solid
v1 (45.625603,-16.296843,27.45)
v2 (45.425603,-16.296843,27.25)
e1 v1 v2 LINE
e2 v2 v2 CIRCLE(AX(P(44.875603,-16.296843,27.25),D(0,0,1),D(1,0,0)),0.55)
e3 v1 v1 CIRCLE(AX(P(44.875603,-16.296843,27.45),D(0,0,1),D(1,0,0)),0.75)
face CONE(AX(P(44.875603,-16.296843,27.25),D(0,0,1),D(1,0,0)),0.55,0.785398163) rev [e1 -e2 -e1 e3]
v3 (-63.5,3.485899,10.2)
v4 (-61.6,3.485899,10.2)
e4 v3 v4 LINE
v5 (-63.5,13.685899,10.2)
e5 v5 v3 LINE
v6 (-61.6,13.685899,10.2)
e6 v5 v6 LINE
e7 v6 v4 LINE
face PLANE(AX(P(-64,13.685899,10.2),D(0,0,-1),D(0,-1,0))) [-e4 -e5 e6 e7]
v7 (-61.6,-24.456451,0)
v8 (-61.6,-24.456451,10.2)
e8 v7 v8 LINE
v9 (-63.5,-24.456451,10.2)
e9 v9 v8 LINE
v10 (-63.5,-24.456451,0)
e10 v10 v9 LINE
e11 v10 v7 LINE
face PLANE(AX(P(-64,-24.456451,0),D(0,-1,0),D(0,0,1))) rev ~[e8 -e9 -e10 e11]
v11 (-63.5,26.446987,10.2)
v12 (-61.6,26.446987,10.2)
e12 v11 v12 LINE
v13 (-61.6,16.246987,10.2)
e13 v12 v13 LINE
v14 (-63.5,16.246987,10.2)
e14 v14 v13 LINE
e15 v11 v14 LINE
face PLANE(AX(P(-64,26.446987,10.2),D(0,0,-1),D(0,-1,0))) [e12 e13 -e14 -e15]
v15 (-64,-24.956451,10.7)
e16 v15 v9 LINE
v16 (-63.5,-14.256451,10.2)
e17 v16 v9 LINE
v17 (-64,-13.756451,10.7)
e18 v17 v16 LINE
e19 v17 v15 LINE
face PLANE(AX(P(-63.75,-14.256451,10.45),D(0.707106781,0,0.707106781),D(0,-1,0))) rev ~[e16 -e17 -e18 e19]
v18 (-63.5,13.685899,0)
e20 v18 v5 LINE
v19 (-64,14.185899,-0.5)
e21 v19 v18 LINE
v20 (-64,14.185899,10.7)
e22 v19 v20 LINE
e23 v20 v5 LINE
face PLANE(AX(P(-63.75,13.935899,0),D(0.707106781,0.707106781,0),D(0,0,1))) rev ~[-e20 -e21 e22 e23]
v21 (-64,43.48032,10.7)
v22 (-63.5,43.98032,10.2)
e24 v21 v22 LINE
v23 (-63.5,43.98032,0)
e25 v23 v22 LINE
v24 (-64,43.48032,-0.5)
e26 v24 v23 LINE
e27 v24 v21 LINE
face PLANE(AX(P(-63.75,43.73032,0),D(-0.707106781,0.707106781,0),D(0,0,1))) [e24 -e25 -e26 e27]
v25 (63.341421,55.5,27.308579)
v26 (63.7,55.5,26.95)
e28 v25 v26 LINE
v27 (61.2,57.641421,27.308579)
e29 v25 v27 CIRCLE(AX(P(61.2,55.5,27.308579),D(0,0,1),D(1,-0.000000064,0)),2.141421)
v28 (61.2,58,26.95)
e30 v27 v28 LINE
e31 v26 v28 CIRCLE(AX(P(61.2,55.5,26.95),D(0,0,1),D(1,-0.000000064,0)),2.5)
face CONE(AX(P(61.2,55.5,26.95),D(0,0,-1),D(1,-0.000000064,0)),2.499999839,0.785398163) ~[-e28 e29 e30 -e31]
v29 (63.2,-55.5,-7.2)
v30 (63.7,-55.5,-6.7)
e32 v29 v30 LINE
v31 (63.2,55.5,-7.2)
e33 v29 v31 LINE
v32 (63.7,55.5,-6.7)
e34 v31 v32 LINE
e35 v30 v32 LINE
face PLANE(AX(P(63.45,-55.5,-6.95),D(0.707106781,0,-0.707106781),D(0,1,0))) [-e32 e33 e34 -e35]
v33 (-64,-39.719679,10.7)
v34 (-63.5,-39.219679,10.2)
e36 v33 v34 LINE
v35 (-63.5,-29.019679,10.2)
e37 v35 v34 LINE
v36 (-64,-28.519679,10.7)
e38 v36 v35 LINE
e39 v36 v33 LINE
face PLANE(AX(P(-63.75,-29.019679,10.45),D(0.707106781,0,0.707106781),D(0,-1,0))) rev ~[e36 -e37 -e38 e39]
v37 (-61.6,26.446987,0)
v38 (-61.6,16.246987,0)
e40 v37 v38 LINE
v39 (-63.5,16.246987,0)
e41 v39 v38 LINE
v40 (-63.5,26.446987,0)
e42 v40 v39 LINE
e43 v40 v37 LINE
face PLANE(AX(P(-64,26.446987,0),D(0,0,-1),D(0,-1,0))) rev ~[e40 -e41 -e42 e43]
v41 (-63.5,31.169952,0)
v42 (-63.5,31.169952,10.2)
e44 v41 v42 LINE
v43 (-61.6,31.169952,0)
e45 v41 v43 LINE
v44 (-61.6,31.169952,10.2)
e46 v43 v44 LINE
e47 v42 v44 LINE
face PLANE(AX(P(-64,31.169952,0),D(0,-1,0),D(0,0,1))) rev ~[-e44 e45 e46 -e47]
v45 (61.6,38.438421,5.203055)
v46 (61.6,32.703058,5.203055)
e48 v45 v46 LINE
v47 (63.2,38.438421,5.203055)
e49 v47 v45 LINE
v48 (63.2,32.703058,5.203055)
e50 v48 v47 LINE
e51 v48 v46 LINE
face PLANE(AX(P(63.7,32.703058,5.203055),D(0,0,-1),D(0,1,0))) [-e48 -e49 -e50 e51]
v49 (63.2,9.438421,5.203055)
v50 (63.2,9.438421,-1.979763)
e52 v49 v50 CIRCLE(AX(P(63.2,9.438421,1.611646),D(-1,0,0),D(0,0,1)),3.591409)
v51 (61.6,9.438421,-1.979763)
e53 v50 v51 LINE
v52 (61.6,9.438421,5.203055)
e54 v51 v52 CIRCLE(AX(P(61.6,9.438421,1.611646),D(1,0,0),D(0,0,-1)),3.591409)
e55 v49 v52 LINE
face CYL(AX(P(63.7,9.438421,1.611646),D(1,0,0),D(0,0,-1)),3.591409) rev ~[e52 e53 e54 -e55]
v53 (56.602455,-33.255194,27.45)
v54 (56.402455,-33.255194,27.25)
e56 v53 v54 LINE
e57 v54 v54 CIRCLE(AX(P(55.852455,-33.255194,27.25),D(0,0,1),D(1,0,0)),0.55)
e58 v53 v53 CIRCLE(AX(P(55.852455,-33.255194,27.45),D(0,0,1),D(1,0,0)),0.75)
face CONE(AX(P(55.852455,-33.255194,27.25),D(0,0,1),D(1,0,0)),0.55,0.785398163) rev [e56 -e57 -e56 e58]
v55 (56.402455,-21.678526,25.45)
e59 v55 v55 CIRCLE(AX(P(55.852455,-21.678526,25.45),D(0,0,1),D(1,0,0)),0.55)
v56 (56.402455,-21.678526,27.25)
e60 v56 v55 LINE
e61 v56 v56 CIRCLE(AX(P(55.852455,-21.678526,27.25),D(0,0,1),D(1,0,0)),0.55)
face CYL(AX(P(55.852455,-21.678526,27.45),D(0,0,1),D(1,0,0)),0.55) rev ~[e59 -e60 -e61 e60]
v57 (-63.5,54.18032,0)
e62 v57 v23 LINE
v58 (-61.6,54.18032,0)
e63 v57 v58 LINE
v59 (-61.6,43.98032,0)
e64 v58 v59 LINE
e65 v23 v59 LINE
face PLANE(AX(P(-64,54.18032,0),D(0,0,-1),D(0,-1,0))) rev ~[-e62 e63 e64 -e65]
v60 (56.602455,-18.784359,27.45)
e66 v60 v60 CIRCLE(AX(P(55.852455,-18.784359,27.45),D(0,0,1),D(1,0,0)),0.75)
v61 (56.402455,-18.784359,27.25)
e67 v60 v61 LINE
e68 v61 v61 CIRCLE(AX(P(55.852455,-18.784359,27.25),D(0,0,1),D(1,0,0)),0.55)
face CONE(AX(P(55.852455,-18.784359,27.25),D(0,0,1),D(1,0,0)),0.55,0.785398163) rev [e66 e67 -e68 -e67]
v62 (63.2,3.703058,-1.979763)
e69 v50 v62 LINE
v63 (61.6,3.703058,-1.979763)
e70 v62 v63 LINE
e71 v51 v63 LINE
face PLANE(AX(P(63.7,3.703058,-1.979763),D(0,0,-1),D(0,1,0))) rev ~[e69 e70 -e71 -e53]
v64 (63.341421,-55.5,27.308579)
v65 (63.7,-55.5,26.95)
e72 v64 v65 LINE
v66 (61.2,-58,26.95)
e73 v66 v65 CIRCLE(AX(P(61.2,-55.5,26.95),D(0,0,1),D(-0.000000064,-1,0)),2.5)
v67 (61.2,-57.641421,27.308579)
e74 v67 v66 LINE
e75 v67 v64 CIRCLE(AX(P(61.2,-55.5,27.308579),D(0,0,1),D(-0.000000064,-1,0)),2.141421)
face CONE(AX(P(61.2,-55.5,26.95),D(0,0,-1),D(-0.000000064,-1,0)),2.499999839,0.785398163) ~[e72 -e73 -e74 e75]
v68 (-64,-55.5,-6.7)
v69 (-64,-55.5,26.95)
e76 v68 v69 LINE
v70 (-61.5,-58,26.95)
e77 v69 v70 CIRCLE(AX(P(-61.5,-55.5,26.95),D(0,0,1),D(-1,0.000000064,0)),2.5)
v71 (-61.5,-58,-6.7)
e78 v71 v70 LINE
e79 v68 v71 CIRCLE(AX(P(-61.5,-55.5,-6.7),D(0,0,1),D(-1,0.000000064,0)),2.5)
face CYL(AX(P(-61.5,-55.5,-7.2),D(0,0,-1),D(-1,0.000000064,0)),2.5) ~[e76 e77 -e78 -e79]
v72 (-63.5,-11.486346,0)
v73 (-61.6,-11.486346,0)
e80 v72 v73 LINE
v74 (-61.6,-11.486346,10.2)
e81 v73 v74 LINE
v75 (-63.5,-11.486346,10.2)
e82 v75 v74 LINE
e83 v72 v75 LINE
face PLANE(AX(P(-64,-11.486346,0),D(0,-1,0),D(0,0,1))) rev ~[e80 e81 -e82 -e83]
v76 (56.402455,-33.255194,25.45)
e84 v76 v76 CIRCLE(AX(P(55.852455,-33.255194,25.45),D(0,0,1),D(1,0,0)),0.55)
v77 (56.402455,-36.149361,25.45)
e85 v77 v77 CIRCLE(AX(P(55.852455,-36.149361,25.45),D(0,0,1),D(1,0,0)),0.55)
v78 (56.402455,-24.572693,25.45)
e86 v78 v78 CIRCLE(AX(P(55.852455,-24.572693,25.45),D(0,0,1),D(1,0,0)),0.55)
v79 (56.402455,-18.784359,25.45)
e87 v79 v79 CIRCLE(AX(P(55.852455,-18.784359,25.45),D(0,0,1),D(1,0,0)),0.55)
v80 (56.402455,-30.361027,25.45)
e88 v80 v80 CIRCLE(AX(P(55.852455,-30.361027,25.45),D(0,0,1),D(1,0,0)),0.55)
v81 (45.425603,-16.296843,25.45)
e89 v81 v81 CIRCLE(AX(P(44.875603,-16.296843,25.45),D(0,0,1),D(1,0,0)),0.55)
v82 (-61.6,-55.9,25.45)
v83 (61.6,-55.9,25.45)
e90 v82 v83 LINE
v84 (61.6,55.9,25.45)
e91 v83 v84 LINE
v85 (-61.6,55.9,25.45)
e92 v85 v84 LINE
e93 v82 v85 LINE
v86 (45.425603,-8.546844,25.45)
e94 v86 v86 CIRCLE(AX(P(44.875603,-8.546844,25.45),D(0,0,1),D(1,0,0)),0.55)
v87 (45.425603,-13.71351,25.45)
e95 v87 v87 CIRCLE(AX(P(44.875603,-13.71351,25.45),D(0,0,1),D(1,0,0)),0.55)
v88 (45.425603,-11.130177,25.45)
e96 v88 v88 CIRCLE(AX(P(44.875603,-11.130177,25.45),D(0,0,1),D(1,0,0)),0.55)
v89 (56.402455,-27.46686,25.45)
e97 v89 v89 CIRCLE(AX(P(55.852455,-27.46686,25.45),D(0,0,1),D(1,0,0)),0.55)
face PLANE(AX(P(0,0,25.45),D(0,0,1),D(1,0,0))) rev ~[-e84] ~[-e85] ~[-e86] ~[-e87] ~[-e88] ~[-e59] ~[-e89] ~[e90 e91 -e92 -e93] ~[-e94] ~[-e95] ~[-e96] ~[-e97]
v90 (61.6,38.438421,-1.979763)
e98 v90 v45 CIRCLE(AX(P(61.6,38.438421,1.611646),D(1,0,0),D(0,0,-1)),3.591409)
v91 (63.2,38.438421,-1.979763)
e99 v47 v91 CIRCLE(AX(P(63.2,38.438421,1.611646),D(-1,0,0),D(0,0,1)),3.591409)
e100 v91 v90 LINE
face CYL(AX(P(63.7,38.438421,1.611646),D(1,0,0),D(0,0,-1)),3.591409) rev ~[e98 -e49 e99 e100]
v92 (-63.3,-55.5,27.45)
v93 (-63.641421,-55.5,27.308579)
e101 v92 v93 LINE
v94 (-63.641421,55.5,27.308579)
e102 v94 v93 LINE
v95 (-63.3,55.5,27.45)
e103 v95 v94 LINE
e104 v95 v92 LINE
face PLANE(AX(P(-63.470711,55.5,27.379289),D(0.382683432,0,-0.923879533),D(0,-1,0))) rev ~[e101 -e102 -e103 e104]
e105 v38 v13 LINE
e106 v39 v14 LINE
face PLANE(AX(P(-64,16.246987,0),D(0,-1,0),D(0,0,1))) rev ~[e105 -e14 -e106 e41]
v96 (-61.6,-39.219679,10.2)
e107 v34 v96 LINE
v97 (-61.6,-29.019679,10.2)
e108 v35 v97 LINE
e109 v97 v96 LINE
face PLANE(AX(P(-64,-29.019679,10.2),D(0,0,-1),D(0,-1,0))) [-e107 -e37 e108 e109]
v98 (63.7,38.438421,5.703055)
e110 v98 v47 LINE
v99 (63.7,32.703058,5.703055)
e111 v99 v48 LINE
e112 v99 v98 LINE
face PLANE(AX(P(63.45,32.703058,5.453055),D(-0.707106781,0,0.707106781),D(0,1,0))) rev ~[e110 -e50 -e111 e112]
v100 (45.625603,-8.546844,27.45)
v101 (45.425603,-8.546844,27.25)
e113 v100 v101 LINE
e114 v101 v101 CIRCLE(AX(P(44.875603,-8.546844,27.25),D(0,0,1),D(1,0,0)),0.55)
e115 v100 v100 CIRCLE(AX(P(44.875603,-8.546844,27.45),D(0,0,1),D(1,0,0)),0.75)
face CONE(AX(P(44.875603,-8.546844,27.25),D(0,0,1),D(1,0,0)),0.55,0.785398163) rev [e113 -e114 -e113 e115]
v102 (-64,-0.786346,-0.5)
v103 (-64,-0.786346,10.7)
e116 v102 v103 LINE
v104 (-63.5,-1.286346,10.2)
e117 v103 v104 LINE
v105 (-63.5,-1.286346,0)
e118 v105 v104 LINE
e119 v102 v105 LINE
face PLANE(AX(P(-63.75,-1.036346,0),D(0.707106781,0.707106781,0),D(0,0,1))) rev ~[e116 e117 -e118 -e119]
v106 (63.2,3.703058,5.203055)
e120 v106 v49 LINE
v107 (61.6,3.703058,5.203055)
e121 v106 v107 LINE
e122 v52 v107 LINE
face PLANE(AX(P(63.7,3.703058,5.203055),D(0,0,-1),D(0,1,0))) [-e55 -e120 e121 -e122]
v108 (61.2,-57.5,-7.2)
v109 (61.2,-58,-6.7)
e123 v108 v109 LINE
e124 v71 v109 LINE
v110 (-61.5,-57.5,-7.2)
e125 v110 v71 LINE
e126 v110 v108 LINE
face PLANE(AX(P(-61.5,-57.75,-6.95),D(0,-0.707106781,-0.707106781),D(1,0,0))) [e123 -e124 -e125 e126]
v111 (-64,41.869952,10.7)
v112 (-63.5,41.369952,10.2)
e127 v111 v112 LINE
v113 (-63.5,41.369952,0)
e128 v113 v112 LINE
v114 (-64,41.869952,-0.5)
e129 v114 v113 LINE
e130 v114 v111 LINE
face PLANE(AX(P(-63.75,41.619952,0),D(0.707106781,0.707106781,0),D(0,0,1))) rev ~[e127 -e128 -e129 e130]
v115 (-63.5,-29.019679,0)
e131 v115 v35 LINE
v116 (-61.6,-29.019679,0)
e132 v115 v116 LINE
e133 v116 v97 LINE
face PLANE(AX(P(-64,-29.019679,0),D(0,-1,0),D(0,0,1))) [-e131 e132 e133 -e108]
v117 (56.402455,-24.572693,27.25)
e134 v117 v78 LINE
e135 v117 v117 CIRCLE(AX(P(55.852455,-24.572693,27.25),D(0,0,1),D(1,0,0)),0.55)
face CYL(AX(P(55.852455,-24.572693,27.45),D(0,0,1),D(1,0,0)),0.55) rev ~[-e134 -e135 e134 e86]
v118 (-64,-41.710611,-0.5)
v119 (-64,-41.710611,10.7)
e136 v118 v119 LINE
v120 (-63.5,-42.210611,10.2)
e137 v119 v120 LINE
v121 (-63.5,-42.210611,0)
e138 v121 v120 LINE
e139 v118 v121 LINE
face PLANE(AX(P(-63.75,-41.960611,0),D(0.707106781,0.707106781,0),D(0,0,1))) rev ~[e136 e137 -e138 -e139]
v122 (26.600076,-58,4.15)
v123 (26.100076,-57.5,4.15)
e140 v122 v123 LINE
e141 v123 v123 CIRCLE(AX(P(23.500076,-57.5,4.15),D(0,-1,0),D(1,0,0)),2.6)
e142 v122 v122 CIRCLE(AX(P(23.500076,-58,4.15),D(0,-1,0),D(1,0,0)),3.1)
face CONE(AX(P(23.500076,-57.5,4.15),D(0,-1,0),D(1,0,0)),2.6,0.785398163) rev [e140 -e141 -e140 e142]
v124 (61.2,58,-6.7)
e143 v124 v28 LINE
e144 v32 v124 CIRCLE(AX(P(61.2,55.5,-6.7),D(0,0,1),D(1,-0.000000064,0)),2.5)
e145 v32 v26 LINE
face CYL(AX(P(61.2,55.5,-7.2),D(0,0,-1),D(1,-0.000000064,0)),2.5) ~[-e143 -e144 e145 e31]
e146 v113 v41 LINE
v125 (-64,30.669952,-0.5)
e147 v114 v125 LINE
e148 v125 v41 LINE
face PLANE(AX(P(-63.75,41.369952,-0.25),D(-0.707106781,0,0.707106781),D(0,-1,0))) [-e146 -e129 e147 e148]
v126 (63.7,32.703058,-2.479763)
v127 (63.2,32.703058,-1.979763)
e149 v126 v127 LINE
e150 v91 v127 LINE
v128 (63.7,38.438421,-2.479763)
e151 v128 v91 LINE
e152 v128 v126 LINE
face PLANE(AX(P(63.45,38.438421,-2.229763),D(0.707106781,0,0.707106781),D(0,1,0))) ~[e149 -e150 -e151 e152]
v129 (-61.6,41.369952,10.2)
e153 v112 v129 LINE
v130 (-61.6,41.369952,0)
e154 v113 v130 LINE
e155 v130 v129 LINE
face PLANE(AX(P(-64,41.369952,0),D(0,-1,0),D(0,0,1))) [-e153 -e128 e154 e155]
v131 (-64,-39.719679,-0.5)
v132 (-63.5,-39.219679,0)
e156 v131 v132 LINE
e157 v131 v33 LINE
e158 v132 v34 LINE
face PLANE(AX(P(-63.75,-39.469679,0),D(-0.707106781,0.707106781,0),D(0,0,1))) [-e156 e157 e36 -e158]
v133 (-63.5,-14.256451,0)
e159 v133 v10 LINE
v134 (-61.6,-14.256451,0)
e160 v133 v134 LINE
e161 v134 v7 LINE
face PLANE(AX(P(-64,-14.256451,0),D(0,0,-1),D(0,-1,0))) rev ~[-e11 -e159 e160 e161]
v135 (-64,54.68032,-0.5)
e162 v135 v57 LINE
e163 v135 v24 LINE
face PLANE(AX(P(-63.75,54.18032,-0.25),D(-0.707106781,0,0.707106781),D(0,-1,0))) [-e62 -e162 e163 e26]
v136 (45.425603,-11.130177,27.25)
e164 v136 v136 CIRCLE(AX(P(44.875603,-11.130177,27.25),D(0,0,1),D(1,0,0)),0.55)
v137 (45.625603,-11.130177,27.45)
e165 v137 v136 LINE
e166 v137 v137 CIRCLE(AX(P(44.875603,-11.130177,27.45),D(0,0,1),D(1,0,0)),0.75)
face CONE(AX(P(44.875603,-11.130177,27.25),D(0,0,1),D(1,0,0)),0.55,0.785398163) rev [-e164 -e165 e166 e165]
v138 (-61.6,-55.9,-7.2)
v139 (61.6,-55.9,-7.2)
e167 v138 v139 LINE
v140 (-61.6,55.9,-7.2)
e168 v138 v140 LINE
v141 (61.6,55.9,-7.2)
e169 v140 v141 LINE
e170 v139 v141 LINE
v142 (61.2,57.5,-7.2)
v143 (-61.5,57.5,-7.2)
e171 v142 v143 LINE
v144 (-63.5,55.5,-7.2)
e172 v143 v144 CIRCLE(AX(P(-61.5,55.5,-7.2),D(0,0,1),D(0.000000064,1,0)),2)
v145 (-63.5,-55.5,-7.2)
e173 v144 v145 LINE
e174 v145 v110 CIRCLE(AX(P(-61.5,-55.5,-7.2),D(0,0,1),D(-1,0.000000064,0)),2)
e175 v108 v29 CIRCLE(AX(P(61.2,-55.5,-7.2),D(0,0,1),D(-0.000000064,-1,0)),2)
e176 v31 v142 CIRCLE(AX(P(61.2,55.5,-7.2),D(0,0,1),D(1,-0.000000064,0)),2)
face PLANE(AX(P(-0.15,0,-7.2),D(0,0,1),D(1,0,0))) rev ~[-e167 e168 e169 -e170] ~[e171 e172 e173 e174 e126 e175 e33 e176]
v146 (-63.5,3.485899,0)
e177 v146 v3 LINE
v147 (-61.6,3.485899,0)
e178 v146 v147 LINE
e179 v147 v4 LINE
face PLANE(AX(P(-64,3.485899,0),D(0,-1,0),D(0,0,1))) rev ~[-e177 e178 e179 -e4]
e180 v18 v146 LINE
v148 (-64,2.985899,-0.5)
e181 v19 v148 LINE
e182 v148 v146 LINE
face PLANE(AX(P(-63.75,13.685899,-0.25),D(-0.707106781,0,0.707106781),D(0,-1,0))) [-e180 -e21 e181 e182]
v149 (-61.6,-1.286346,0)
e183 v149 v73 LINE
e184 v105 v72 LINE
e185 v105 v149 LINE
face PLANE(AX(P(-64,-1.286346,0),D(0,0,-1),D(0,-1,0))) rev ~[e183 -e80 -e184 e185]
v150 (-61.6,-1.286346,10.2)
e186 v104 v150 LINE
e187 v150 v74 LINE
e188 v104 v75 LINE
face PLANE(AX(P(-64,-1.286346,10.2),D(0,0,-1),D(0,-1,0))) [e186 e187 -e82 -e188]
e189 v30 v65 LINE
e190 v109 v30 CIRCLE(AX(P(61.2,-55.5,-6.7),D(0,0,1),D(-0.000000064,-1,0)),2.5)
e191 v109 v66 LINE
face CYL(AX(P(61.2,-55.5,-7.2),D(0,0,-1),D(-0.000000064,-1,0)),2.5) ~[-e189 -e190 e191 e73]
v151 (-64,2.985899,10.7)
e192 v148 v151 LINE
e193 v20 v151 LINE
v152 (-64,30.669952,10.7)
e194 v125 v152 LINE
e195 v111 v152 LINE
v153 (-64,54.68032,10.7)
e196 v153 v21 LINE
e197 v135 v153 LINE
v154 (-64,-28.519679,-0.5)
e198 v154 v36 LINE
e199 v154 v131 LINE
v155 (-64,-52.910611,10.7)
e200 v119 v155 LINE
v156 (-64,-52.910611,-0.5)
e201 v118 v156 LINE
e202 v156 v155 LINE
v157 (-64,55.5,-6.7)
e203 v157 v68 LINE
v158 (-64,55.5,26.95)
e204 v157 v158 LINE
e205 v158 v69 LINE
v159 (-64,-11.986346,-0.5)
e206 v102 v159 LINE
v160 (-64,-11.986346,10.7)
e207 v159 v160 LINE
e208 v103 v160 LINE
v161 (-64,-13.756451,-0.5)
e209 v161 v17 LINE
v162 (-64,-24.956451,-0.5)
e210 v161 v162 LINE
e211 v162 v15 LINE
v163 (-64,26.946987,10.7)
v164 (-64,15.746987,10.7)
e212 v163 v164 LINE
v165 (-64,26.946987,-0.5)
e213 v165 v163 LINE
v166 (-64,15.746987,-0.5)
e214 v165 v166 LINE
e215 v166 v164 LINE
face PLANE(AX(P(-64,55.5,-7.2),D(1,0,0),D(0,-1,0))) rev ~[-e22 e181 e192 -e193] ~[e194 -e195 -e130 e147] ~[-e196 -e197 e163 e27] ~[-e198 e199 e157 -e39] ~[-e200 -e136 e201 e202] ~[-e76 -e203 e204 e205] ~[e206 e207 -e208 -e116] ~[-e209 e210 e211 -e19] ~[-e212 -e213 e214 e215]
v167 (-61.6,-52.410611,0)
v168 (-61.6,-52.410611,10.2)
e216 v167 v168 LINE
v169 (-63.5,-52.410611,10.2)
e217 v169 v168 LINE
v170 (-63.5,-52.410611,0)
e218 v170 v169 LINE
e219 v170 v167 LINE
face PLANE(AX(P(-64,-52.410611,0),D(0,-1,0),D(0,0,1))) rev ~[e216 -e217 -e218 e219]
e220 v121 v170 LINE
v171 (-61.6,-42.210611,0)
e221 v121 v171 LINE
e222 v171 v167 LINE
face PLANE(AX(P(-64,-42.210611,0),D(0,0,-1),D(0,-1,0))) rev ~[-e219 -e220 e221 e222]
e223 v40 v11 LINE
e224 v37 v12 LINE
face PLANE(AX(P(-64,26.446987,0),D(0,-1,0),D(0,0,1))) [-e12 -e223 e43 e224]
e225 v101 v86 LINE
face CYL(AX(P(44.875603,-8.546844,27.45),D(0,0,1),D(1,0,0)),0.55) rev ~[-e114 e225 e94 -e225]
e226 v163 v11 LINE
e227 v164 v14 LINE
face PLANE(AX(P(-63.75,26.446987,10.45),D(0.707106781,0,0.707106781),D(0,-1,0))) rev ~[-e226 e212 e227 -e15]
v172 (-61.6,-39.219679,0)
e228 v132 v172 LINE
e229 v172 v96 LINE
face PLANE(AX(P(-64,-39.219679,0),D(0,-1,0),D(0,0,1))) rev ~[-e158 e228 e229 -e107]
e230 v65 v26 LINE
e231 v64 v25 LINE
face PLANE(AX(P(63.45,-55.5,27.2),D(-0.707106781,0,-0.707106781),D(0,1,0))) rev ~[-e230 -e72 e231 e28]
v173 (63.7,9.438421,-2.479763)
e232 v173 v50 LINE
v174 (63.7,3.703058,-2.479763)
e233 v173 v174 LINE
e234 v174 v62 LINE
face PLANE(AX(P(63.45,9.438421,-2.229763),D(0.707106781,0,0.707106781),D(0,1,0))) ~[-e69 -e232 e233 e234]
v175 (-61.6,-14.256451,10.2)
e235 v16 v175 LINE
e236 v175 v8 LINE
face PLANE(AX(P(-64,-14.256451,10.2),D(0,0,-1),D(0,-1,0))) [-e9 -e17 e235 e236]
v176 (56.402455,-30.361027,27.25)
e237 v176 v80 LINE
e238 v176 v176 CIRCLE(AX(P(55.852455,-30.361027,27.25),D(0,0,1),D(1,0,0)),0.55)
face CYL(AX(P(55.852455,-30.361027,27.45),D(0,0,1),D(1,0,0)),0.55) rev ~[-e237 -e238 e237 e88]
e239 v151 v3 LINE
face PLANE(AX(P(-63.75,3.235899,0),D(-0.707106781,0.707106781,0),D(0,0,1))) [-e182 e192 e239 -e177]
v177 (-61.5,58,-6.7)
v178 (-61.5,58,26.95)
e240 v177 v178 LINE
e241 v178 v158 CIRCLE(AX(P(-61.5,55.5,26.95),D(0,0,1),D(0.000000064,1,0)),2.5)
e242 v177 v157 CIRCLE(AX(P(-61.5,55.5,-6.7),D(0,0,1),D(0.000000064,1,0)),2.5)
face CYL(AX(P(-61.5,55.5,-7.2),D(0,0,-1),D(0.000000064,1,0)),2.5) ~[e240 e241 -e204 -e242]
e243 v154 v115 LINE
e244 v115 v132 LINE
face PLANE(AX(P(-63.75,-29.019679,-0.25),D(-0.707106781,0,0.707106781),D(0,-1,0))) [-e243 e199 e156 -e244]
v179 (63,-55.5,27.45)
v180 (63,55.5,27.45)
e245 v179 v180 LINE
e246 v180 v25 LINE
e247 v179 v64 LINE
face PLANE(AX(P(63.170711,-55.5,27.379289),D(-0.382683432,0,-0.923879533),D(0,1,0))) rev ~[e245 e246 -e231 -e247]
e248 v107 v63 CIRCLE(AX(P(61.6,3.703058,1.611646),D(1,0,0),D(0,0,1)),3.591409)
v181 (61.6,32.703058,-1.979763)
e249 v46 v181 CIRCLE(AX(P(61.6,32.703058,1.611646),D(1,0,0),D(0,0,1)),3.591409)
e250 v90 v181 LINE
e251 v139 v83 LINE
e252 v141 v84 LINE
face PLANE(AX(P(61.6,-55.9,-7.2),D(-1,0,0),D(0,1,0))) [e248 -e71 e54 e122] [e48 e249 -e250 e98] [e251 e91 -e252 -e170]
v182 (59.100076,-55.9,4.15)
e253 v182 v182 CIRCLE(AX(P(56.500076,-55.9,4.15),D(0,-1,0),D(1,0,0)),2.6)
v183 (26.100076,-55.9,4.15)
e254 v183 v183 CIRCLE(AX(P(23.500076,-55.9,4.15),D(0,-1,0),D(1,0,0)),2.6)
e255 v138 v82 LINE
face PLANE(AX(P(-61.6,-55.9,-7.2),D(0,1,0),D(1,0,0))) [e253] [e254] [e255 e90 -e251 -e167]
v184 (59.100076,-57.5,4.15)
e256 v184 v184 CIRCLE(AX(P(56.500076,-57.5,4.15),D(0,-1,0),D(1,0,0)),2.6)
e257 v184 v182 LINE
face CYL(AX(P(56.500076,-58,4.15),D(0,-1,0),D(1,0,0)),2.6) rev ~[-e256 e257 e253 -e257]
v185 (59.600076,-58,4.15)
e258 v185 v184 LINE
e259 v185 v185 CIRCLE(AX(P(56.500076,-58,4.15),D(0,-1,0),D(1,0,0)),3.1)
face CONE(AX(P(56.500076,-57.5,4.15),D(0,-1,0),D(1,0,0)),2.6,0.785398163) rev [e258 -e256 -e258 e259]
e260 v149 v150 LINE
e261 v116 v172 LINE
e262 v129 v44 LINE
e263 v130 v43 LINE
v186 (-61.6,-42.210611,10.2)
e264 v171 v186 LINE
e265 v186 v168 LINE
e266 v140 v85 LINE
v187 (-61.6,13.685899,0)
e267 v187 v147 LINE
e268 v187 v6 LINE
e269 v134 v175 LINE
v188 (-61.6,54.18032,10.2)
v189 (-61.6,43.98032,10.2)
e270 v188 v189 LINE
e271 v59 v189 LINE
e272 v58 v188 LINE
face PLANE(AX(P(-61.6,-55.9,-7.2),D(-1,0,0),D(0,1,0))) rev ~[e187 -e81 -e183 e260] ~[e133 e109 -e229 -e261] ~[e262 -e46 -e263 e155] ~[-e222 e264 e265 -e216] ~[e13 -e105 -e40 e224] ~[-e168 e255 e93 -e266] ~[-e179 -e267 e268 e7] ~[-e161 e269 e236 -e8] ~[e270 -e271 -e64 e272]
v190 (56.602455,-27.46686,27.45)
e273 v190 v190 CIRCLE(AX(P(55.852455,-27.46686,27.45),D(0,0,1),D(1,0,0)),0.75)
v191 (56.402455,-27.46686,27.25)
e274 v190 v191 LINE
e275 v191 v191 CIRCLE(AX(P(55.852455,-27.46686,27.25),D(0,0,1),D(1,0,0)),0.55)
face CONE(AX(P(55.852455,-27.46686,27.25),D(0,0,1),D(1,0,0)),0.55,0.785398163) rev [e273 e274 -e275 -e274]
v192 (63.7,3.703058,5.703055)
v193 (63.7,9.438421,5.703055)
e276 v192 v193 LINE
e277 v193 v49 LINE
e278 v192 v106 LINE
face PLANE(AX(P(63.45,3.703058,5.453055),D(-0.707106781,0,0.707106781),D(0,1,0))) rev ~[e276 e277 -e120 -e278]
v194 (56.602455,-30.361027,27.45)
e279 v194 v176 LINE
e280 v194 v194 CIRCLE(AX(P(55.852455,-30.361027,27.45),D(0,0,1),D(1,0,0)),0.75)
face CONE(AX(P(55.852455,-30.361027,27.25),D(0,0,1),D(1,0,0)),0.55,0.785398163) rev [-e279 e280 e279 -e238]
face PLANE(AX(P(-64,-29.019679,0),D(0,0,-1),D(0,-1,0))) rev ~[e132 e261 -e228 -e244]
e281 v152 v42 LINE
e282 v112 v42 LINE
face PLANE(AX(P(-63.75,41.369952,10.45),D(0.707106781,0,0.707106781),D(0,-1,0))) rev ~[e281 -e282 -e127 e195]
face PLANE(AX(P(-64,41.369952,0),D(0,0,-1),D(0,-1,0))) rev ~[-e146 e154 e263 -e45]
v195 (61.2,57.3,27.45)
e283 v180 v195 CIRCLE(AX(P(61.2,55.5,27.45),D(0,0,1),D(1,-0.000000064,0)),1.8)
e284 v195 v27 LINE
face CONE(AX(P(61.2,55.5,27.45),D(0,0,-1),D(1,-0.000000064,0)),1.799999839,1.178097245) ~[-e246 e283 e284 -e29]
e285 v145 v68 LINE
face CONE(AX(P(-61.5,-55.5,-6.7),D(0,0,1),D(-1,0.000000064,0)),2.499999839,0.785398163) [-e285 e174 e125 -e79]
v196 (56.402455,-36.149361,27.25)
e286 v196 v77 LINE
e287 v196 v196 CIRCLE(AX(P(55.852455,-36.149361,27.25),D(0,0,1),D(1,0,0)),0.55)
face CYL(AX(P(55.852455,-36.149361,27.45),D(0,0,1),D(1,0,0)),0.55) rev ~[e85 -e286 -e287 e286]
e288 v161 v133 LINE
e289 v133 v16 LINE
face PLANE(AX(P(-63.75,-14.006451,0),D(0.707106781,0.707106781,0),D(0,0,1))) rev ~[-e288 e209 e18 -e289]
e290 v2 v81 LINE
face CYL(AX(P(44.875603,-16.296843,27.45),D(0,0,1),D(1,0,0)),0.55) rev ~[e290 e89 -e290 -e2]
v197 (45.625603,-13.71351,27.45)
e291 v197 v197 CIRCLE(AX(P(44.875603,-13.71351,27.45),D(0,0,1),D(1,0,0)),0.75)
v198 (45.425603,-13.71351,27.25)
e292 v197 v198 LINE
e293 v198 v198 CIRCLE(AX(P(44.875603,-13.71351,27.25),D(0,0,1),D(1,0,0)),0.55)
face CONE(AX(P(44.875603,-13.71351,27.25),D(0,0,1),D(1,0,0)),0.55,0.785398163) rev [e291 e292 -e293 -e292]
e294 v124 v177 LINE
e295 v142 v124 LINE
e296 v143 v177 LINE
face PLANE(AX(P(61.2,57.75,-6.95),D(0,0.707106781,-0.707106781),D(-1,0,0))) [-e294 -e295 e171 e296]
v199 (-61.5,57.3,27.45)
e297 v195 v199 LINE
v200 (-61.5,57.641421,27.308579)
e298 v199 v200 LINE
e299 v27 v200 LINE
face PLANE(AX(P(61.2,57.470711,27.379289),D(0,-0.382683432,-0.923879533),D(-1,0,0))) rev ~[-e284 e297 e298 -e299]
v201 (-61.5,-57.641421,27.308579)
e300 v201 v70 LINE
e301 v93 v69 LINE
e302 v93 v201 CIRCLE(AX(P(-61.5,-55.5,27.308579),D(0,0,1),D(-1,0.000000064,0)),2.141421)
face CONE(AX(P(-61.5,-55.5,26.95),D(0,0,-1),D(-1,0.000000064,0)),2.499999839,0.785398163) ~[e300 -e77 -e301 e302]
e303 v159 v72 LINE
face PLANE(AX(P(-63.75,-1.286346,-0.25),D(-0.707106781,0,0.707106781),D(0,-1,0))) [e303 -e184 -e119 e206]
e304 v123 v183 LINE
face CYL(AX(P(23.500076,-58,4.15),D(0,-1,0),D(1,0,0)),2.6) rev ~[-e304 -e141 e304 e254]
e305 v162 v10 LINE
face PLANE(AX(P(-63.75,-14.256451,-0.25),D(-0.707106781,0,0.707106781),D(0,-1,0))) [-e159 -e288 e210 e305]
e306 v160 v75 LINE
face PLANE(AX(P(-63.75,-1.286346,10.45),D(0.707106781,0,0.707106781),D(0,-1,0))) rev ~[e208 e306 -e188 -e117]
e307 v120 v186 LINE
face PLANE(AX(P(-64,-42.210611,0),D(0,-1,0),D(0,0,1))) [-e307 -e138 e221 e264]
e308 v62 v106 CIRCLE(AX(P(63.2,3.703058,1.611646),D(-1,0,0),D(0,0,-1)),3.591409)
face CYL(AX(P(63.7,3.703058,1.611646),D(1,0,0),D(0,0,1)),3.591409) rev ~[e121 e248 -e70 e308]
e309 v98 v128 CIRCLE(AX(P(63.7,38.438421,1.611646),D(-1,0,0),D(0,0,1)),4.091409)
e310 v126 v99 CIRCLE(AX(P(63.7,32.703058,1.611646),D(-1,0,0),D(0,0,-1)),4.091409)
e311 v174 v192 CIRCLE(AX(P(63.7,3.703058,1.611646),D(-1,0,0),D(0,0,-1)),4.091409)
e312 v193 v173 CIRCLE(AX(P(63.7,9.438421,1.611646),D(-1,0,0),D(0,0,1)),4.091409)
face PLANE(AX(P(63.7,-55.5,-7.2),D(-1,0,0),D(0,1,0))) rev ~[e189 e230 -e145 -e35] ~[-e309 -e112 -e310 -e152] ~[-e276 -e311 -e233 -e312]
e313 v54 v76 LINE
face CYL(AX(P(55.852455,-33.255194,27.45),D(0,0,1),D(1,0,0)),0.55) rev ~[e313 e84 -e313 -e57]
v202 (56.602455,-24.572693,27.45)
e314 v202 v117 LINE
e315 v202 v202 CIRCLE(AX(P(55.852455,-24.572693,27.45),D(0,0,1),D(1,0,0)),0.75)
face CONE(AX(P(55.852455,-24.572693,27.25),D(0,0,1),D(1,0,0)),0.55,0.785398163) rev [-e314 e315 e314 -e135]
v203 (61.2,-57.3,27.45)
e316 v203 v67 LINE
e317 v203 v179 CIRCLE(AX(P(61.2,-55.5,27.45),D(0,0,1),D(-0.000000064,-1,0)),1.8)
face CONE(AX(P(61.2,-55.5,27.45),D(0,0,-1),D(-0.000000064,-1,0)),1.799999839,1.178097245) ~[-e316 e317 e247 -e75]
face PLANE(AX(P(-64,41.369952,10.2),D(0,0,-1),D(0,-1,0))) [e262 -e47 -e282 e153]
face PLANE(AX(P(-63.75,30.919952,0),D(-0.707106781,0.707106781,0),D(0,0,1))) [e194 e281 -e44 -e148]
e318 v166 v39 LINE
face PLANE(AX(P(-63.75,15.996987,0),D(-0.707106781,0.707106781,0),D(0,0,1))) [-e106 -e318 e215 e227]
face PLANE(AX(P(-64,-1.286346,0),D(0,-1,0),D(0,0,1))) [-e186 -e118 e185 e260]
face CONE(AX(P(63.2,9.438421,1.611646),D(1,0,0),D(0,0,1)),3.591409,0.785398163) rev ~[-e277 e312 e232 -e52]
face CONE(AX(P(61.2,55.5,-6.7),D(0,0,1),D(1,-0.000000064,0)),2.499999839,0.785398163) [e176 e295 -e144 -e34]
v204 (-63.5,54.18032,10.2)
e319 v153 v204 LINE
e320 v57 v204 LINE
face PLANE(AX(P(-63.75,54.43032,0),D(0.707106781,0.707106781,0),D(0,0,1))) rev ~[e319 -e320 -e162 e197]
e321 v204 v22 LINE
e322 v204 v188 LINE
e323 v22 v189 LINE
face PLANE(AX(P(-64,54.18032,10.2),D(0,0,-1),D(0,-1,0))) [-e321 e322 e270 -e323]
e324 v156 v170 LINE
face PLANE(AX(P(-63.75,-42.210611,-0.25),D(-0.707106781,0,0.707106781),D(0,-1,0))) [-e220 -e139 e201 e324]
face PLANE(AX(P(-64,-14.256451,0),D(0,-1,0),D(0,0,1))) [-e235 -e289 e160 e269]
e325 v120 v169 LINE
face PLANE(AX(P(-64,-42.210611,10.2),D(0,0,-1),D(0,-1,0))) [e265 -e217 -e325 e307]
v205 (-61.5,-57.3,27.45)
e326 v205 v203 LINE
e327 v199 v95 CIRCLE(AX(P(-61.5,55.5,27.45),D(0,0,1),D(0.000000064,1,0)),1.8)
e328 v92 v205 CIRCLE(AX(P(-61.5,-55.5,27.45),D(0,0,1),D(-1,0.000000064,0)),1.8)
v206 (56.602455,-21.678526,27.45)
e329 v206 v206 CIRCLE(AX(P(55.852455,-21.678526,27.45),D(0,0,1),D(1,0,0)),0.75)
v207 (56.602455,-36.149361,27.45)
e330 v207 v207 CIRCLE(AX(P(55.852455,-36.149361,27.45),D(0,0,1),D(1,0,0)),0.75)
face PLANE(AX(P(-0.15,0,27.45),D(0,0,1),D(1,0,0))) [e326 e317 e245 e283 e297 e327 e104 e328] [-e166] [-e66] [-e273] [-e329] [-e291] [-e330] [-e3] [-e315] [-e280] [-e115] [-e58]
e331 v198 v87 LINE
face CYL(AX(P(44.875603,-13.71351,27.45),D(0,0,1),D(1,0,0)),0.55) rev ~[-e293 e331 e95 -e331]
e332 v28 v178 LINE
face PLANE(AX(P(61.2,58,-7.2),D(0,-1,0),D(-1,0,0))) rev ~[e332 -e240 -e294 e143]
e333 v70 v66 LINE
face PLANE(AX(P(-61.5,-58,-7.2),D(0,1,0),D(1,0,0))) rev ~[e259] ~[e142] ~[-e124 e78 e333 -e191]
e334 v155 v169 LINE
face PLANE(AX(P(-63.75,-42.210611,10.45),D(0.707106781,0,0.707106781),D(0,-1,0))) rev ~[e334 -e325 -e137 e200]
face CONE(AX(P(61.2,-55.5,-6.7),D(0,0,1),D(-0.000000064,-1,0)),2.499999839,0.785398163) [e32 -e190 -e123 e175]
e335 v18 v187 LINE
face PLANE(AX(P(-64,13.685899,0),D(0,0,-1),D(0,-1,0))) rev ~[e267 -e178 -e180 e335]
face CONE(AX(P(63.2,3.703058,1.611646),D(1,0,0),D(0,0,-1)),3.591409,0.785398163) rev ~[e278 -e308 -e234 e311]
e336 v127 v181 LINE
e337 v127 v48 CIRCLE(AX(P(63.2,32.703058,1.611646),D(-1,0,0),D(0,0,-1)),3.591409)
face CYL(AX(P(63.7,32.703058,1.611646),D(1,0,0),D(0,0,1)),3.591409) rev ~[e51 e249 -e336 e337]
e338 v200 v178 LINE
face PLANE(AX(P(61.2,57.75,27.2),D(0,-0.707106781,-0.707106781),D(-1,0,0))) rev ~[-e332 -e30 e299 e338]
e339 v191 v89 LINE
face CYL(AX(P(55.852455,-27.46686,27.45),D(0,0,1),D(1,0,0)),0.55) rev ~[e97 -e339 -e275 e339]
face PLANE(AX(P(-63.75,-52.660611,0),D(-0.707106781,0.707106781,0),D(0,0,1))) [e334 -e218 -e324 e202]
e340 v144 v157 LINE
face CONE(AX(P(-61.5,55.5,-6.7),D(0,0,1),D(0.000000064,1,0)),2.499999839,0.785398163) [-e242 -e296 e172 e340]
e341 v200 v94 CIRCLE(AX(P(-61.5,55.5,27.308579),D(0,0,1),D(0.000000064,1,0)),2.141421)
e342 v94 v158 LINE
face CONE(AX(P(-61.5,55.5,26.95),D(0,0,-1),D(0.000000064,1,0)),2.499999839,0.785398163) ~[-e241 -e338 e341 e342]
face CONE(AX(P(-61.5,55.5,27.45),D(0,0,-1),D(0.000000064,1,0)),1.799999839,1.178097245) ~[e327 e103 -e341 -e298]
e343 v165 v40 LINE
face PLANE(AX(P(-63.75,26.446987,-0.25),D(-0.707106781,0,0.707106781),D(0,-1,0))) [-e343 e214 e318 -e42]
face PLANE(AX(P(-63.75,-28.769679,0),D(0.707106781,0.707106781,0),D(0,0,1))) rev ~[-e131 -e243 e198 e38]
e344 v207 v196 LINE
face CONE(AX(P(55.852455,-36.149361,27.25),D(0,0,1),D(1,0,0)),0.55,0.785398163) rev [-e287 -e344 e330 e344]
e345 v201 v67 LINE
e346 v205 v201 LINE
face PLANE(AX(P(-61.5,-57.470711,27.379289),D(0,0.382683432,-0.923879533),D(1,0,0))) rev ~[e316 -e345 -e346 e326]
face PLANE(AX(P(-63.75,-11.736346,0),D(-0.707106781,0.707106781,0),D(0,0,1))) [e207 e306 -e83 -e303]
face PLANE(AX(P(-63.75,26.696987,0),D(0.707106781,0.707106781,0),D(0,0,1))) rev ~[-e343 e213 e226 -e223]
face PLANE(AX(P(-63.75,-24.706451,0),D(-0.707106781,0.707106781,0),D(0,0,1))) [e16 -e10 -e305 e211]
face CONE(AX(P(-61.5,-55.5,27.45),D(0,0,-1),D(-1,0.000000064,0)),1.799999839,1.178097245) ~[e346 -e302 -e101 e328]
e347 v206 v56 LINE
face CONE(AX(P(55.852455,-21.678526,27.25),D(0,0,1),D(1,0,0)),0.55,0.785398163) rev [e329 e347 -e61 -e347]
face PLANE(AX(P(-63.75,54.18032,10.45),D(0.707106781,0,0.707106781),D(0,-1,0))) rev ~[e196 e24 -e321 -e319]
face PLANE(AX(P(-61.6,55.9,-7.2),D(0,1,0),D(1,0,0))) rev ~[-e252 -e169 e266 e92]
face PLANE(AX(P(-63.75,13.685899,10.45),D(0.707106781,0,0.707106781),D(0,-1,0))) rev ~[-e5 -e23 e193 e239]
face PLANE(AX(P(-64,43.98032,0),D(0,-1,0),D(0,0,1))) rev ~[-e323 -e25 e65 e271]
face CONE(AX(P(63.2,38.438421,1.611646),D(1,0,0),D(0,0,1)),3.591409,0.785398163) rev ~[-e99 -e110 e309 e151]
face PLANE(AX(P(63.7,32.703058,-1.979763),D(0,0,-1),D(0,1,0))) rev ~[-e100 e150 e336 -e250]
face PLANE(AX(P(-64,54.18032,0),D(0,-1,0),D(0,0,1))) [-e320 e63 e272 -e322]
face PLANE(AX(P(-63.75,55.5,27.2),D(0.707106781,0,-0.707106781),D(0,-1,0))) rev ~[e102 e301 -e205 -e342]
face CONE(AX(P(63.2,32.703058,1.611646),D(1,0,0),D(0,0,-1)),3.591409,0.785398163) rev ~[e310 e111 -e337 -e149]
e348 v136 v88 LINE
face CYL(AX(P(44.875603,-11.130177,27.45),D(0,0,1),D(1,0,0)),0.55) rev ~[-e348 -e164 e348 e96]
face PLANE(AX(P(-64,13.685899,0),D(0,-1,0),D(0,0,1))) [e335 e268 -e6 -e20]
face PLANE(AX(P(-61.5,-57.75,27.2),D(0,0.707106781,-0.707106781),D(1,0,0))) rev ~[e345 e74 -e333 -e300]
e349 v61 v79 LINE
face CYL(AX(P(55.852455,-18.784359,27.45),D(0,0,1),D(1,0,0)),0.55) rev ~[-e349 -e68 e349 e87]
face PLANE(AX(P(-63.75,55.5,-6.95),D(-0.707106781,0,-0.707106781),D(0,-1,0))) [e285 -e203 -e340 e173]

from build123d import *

# Parameters (mm, degrees)
PAD_DEPTH              = 34.65
SKETCH001_W            = 123.2
SKETCH001_H            = 111.8
POCKET_DEPTH           = 32.65
SKETCH002_W            = 10.2
SKETCH002_H            = 10.2
POCKET001_DEPTH        = 2.4
LINEARPATTERN_COUNT    = 4
LINEARPATTERN_PITCH    = 27.733333
SKETCH003_W            = 10.2
SKETCH003_H            = 10.2
POCKET002_DEPTH        = 2.4
POCKET003_DEPTH        = 2.2
LINEARPATTERN001_COUNT = 2
LINEARPATTERN001_PITCH = 29
SKETCH006_R            = 2.6
POCKET004_DEPTH        = 2.4
LINEARPATTERN002_COUNT = 2
LINEARPATTERN002_PITCH = 33
CHAMFER_SIZE           = 0.5
CHAMFER001_SIZE        = 0.5
CHAMFER002_SIZE        = 0.5
SKETCH013_R            = 0.55
POCKET006_DEPTH        = 2
LINEARPATTERN003_COUNT = 7
LINEARPATTERN003_PITCH = 2.894167
SKETCH014_R            = 0.55
POCKET007_DEPTH        = 2
LINEARPATTERN004_COUNT = 4
LINEARPATTERN004_PITCH = 2.583333
CHAMFER003_SIZE        = 0.2


with BuildPart() as part:
    # Sketch → Pad (new body)
    with BuildSketch(Plane.XY.offset(-7.2)):
        with BuildLine():
            Line((-61.5, -58), (61.2, -58))
            ThreePointArc((61.2, -58), (62.967767, -57.267767), (63.7, -55.5))
            Line((63.7, -55.5), (63.7, 55.5))
            ThreePointArc((63.7, 55.5), (62.967767, 57.267767), (61.2, 58))
            Line((61.2, 58), (-61.5, 58))
            ThreePointArc((-61.5, 58), (-63.267767, 57.267767), (-64, 55.5))
            Line((-64, 55.5), (-64, -55.5))
            ThreePointArc((-64, -55.5), (-63.267767, -57.267767), (-61.5, -58))
        make_face()
    extrude(amount=PAD_DEPTH)

    # Sketch001 → Pocket (cut)
    with BuildSketch(Plane.XY.offset(-7.2)):
        Rectangle(SKETCH001_W, SKETCH001_H)
    extrude(amount=POCKET_DEPTH, mode=Mode.SUBTRACT)

    # Sketch002 (on DatumPlane) → Pocket001 (cut)
    with BuildSketch(Plane(origin=(-64, 0, 0), x_dir=(0, -1, 0), z_dir=(-1, 0, 0))):
        with Locations((-49.08032, 5.1)):
            Rectangle(SKETCH002_W, SKETCH002_H)
    pocket001 = extrude(amount=-POCKET001_DEPTH, mode=Mode.SUBTRACT)

    # LinearPattern: Pocket001 ×4
    with Locations(*[(0, -i * LINEARPATTERN_PITCH, 0) for i in range(1, LINEARPATTERN_COUNT)]):
        add(pocket001, mode=Mode.SUBTRACT)

    # Sketch003 (on DatumPlane) → Pocket002 (cut)
    with BuildSketch(Plane(origin=(-64, 0, 0), x_dir=(0, -1, 0), z_dir=(-1, 0, 0))):
        with Locations((-36.269952, 5.1)):
            Rectangle(SKETCH003_W, SKETCH003_H)
        with Locations((-8.585899, 5.1)):
            Rectangle(SKETCH003_W, SKETCH003_H)
        with Locations((19.356451, 5.1)):
            Rectangle(SKETCH003_W, SKETCH003_H)
        with Locations((47.310611, 5.1)):
            Rectangle(SKETCH003_W, SKETCH003_H)
    extrude(amount=-POCKET002_DEPTH, mode=Mode.SUBTRACT)

    # Sketch004 (on DatumPlane) → Pocket003 (cut)
    with BuildSketch(Plane.YZ.offset(63.7)):
        with BuildLine():
            ThreePointArc((3.703058, 5.203055), (0.111649, 1.611646), (3.703058, -1.979763))
            Line((3.703058, -1.979763), (9.438421, -1.979763))
            ThreePointArc((9.438421, -1.979763), (13.02983, 1.611646), (9.438421, 5.203055))
            Line((3.703058, 5.203055), (9.438421, 5.203055))
        make_face()
    pocket003 = extrude(amount=-POCKET003_DEPTH, mode=Mode.SUBTRACT)

    # LinearPattern001: Pocket003 ×2
    with Locations(*[(0, i * LINEARPATTERN001_PITCH, 0) for i in range(1, LINEARPATTERN001_COUNT)]):
        add(pocket003, mode=Mode.SUBTRACT)

    # Sketch006 (on DatumPlane) → Pocket004 (cut)
    with BuildSketch(Plane.XZ.offset(58)):
        with Locations((56.500076, 4.15)):
            Circle(SKETCH006_R)
    pocket004 = extrude(amount=-POCKET004_DEPTH, mode=Mode.SUBTRACT)

    # LinearPattern002: Pocket004 ×2
    with Locations(*[(-i * LINEARPATTERN002_PITCH, 0, 0) for i in range(1, LINEARPATTERN002_COUNT)]):
        add(pocket004, mode=Mode.SUBTRACT)

    # Chamfer
    chamfer_edges = [part.edges().sort_by_distance(p)[0] for p in [
        (20.900076, -58, 4.15),
        (53.900076, -58, 4.15),
    ]]
    chamfer(chamfer_edges, length=CHAMFER_SIZE)

    # Chamfer001
    chamfer001_edges = [part.edges().sort_by_distance(p)[0] for p in [
        (-64, 55.5, 10.125),
        (-64, 0, -7.2),
        (-64, 0, 27.45),
        (-64, -55.5, 10.125),
        (-64, 54.18032, 5.1),
        (-64, 49.08032, 10.2),
        (-64, 49.08032, 0),
        (-64, 43.98032, 5.1),
        (-64, 41.369952, 5.1),
        (-64, 36.269952, 10.2),
        (-64, 31.169952, 5.1),
        (-64, 36.269952, 0),
        (-64, 26.446987, 5.1),
        (-64, 21.346987, 10.2),
        (-64, 21.346987, 0),
        (-64, 16.246987, 5.1),
        (-64, 13.685899, 5.1),
        (-64, 8.585899, 10.2),
        (-64, 3.485899, 5.1),
        (-64, 8.585899, 0),
        (-64, -1.286347, 5.1),
        (-64, -6.386347, 10.2),
        (-64, -6.386347, 0),
        (-64, -11.486347, 5.1),
        (-64, -14.256451, 5.1),
        (-64, -19.356451, 10.2),
        (-64, -24.456451, 5.1),
        (-64, -19.356451, 0),
        (-64, -29.01968, 5.1),
        (-64, -34.11968, 10.2),
        (-64, -34.11968, 0),
        (-64, -39.21968, 5.1),
        (-64, -42.210611, 5.1),
        (-64, -47.310611, 10.2),
        (-64, -52.410611, 5.1),
        (-64, -47.310611, 0),
    ]]
    chamfer(chamfer001_edges, length=CHAMFER001_SIZE)

    # Chamfer002
    chamfer002_edges = [part.edges().sort_by_distance(p)[0] for p in [
        (63.7, 6.57074, 5.203055),
        (63.7, 35.57074, 5.203055),
    ]]
    chamfer(chamfer002_edges, length=CHAMFER002_SIZE)

    # Sketch013 (on DatumPlane) → Pocket006 (cut)
    with BuildSketch(Plane.XY.offset(27.45)):
        with Locations((55.852455, -36.149361)):
            Circle(SKETCH013_R)
    pocket006 = extrude(amount=-POCKET006_DEPTH, mode=Mode.SUBTRACT)

    # LinearPattern003: Pocket006 ×7
    with Locations(*[(0, i * LINEARPATTERN003_PITCH, 0) for i in range(1, LINEARPATTERN003_COUNT)]):
        add(pocket006, mode=Mode.SUBTRACT)

    # Sketch014 (on DatumPlane) → Pocket007 (cut)
    with BuildSketch(Plane.XY.offset(27.45)):
        with Locations((44.875603, -16.296843)):
            Circle(SKETCH014_R)
    pocket007 = extrude(amount=-POCKET007_DEPTH, mode=Mode.SUBTRACT)

    # LinearPattern004: Pocket007 ×4
    with Locations(*[(0, i * LINEARPATTERN004_PITCH, 0) for i in range(1, LINEARPATTERN004_COUNT)]):
        add(pocket007, mode=Mode.SUBTRACT)

    # Chamfer003
    chamfer003_edges = [part.edges().sort_by_distance(p)[0] for p in [
        (-63.5, 0, 27.45),
        (-62.914214, 56.914214, 27.45),
        (-62.914214, -56.914214, 27.45),
        (-0.15, 57.5, 27.45),
        (-0.15, -57.5, 27.45),
        (62.614214, 56.914214, 27.45),
        (62.614214, -56.914214, 27.45),
        (63.2, 0, 27.45),
        (55.302455, -36.149361, 27.45),
        (55.302455, -33.255194, 27.45),
        (55.302455, -30.361028, 27.45),
        (55.302455, -27.466861, 27.45),
        (55.302455, -24.572694, 27.45),
        (55.302455, -21.678528, 27.45),
        (55.302455, -18.784361, 27.45),
        (44.325603, -16.296843, 27.45),
        (44.325603, -13.71351, 27.45),
        (44.325603, -11.130176, 27.45),
        (44.325603, -8.546843, 27.45),
    ]]
    chamfer(chamfer003_edges, length=CHAMFER003_SIZE)


solid = part.part
